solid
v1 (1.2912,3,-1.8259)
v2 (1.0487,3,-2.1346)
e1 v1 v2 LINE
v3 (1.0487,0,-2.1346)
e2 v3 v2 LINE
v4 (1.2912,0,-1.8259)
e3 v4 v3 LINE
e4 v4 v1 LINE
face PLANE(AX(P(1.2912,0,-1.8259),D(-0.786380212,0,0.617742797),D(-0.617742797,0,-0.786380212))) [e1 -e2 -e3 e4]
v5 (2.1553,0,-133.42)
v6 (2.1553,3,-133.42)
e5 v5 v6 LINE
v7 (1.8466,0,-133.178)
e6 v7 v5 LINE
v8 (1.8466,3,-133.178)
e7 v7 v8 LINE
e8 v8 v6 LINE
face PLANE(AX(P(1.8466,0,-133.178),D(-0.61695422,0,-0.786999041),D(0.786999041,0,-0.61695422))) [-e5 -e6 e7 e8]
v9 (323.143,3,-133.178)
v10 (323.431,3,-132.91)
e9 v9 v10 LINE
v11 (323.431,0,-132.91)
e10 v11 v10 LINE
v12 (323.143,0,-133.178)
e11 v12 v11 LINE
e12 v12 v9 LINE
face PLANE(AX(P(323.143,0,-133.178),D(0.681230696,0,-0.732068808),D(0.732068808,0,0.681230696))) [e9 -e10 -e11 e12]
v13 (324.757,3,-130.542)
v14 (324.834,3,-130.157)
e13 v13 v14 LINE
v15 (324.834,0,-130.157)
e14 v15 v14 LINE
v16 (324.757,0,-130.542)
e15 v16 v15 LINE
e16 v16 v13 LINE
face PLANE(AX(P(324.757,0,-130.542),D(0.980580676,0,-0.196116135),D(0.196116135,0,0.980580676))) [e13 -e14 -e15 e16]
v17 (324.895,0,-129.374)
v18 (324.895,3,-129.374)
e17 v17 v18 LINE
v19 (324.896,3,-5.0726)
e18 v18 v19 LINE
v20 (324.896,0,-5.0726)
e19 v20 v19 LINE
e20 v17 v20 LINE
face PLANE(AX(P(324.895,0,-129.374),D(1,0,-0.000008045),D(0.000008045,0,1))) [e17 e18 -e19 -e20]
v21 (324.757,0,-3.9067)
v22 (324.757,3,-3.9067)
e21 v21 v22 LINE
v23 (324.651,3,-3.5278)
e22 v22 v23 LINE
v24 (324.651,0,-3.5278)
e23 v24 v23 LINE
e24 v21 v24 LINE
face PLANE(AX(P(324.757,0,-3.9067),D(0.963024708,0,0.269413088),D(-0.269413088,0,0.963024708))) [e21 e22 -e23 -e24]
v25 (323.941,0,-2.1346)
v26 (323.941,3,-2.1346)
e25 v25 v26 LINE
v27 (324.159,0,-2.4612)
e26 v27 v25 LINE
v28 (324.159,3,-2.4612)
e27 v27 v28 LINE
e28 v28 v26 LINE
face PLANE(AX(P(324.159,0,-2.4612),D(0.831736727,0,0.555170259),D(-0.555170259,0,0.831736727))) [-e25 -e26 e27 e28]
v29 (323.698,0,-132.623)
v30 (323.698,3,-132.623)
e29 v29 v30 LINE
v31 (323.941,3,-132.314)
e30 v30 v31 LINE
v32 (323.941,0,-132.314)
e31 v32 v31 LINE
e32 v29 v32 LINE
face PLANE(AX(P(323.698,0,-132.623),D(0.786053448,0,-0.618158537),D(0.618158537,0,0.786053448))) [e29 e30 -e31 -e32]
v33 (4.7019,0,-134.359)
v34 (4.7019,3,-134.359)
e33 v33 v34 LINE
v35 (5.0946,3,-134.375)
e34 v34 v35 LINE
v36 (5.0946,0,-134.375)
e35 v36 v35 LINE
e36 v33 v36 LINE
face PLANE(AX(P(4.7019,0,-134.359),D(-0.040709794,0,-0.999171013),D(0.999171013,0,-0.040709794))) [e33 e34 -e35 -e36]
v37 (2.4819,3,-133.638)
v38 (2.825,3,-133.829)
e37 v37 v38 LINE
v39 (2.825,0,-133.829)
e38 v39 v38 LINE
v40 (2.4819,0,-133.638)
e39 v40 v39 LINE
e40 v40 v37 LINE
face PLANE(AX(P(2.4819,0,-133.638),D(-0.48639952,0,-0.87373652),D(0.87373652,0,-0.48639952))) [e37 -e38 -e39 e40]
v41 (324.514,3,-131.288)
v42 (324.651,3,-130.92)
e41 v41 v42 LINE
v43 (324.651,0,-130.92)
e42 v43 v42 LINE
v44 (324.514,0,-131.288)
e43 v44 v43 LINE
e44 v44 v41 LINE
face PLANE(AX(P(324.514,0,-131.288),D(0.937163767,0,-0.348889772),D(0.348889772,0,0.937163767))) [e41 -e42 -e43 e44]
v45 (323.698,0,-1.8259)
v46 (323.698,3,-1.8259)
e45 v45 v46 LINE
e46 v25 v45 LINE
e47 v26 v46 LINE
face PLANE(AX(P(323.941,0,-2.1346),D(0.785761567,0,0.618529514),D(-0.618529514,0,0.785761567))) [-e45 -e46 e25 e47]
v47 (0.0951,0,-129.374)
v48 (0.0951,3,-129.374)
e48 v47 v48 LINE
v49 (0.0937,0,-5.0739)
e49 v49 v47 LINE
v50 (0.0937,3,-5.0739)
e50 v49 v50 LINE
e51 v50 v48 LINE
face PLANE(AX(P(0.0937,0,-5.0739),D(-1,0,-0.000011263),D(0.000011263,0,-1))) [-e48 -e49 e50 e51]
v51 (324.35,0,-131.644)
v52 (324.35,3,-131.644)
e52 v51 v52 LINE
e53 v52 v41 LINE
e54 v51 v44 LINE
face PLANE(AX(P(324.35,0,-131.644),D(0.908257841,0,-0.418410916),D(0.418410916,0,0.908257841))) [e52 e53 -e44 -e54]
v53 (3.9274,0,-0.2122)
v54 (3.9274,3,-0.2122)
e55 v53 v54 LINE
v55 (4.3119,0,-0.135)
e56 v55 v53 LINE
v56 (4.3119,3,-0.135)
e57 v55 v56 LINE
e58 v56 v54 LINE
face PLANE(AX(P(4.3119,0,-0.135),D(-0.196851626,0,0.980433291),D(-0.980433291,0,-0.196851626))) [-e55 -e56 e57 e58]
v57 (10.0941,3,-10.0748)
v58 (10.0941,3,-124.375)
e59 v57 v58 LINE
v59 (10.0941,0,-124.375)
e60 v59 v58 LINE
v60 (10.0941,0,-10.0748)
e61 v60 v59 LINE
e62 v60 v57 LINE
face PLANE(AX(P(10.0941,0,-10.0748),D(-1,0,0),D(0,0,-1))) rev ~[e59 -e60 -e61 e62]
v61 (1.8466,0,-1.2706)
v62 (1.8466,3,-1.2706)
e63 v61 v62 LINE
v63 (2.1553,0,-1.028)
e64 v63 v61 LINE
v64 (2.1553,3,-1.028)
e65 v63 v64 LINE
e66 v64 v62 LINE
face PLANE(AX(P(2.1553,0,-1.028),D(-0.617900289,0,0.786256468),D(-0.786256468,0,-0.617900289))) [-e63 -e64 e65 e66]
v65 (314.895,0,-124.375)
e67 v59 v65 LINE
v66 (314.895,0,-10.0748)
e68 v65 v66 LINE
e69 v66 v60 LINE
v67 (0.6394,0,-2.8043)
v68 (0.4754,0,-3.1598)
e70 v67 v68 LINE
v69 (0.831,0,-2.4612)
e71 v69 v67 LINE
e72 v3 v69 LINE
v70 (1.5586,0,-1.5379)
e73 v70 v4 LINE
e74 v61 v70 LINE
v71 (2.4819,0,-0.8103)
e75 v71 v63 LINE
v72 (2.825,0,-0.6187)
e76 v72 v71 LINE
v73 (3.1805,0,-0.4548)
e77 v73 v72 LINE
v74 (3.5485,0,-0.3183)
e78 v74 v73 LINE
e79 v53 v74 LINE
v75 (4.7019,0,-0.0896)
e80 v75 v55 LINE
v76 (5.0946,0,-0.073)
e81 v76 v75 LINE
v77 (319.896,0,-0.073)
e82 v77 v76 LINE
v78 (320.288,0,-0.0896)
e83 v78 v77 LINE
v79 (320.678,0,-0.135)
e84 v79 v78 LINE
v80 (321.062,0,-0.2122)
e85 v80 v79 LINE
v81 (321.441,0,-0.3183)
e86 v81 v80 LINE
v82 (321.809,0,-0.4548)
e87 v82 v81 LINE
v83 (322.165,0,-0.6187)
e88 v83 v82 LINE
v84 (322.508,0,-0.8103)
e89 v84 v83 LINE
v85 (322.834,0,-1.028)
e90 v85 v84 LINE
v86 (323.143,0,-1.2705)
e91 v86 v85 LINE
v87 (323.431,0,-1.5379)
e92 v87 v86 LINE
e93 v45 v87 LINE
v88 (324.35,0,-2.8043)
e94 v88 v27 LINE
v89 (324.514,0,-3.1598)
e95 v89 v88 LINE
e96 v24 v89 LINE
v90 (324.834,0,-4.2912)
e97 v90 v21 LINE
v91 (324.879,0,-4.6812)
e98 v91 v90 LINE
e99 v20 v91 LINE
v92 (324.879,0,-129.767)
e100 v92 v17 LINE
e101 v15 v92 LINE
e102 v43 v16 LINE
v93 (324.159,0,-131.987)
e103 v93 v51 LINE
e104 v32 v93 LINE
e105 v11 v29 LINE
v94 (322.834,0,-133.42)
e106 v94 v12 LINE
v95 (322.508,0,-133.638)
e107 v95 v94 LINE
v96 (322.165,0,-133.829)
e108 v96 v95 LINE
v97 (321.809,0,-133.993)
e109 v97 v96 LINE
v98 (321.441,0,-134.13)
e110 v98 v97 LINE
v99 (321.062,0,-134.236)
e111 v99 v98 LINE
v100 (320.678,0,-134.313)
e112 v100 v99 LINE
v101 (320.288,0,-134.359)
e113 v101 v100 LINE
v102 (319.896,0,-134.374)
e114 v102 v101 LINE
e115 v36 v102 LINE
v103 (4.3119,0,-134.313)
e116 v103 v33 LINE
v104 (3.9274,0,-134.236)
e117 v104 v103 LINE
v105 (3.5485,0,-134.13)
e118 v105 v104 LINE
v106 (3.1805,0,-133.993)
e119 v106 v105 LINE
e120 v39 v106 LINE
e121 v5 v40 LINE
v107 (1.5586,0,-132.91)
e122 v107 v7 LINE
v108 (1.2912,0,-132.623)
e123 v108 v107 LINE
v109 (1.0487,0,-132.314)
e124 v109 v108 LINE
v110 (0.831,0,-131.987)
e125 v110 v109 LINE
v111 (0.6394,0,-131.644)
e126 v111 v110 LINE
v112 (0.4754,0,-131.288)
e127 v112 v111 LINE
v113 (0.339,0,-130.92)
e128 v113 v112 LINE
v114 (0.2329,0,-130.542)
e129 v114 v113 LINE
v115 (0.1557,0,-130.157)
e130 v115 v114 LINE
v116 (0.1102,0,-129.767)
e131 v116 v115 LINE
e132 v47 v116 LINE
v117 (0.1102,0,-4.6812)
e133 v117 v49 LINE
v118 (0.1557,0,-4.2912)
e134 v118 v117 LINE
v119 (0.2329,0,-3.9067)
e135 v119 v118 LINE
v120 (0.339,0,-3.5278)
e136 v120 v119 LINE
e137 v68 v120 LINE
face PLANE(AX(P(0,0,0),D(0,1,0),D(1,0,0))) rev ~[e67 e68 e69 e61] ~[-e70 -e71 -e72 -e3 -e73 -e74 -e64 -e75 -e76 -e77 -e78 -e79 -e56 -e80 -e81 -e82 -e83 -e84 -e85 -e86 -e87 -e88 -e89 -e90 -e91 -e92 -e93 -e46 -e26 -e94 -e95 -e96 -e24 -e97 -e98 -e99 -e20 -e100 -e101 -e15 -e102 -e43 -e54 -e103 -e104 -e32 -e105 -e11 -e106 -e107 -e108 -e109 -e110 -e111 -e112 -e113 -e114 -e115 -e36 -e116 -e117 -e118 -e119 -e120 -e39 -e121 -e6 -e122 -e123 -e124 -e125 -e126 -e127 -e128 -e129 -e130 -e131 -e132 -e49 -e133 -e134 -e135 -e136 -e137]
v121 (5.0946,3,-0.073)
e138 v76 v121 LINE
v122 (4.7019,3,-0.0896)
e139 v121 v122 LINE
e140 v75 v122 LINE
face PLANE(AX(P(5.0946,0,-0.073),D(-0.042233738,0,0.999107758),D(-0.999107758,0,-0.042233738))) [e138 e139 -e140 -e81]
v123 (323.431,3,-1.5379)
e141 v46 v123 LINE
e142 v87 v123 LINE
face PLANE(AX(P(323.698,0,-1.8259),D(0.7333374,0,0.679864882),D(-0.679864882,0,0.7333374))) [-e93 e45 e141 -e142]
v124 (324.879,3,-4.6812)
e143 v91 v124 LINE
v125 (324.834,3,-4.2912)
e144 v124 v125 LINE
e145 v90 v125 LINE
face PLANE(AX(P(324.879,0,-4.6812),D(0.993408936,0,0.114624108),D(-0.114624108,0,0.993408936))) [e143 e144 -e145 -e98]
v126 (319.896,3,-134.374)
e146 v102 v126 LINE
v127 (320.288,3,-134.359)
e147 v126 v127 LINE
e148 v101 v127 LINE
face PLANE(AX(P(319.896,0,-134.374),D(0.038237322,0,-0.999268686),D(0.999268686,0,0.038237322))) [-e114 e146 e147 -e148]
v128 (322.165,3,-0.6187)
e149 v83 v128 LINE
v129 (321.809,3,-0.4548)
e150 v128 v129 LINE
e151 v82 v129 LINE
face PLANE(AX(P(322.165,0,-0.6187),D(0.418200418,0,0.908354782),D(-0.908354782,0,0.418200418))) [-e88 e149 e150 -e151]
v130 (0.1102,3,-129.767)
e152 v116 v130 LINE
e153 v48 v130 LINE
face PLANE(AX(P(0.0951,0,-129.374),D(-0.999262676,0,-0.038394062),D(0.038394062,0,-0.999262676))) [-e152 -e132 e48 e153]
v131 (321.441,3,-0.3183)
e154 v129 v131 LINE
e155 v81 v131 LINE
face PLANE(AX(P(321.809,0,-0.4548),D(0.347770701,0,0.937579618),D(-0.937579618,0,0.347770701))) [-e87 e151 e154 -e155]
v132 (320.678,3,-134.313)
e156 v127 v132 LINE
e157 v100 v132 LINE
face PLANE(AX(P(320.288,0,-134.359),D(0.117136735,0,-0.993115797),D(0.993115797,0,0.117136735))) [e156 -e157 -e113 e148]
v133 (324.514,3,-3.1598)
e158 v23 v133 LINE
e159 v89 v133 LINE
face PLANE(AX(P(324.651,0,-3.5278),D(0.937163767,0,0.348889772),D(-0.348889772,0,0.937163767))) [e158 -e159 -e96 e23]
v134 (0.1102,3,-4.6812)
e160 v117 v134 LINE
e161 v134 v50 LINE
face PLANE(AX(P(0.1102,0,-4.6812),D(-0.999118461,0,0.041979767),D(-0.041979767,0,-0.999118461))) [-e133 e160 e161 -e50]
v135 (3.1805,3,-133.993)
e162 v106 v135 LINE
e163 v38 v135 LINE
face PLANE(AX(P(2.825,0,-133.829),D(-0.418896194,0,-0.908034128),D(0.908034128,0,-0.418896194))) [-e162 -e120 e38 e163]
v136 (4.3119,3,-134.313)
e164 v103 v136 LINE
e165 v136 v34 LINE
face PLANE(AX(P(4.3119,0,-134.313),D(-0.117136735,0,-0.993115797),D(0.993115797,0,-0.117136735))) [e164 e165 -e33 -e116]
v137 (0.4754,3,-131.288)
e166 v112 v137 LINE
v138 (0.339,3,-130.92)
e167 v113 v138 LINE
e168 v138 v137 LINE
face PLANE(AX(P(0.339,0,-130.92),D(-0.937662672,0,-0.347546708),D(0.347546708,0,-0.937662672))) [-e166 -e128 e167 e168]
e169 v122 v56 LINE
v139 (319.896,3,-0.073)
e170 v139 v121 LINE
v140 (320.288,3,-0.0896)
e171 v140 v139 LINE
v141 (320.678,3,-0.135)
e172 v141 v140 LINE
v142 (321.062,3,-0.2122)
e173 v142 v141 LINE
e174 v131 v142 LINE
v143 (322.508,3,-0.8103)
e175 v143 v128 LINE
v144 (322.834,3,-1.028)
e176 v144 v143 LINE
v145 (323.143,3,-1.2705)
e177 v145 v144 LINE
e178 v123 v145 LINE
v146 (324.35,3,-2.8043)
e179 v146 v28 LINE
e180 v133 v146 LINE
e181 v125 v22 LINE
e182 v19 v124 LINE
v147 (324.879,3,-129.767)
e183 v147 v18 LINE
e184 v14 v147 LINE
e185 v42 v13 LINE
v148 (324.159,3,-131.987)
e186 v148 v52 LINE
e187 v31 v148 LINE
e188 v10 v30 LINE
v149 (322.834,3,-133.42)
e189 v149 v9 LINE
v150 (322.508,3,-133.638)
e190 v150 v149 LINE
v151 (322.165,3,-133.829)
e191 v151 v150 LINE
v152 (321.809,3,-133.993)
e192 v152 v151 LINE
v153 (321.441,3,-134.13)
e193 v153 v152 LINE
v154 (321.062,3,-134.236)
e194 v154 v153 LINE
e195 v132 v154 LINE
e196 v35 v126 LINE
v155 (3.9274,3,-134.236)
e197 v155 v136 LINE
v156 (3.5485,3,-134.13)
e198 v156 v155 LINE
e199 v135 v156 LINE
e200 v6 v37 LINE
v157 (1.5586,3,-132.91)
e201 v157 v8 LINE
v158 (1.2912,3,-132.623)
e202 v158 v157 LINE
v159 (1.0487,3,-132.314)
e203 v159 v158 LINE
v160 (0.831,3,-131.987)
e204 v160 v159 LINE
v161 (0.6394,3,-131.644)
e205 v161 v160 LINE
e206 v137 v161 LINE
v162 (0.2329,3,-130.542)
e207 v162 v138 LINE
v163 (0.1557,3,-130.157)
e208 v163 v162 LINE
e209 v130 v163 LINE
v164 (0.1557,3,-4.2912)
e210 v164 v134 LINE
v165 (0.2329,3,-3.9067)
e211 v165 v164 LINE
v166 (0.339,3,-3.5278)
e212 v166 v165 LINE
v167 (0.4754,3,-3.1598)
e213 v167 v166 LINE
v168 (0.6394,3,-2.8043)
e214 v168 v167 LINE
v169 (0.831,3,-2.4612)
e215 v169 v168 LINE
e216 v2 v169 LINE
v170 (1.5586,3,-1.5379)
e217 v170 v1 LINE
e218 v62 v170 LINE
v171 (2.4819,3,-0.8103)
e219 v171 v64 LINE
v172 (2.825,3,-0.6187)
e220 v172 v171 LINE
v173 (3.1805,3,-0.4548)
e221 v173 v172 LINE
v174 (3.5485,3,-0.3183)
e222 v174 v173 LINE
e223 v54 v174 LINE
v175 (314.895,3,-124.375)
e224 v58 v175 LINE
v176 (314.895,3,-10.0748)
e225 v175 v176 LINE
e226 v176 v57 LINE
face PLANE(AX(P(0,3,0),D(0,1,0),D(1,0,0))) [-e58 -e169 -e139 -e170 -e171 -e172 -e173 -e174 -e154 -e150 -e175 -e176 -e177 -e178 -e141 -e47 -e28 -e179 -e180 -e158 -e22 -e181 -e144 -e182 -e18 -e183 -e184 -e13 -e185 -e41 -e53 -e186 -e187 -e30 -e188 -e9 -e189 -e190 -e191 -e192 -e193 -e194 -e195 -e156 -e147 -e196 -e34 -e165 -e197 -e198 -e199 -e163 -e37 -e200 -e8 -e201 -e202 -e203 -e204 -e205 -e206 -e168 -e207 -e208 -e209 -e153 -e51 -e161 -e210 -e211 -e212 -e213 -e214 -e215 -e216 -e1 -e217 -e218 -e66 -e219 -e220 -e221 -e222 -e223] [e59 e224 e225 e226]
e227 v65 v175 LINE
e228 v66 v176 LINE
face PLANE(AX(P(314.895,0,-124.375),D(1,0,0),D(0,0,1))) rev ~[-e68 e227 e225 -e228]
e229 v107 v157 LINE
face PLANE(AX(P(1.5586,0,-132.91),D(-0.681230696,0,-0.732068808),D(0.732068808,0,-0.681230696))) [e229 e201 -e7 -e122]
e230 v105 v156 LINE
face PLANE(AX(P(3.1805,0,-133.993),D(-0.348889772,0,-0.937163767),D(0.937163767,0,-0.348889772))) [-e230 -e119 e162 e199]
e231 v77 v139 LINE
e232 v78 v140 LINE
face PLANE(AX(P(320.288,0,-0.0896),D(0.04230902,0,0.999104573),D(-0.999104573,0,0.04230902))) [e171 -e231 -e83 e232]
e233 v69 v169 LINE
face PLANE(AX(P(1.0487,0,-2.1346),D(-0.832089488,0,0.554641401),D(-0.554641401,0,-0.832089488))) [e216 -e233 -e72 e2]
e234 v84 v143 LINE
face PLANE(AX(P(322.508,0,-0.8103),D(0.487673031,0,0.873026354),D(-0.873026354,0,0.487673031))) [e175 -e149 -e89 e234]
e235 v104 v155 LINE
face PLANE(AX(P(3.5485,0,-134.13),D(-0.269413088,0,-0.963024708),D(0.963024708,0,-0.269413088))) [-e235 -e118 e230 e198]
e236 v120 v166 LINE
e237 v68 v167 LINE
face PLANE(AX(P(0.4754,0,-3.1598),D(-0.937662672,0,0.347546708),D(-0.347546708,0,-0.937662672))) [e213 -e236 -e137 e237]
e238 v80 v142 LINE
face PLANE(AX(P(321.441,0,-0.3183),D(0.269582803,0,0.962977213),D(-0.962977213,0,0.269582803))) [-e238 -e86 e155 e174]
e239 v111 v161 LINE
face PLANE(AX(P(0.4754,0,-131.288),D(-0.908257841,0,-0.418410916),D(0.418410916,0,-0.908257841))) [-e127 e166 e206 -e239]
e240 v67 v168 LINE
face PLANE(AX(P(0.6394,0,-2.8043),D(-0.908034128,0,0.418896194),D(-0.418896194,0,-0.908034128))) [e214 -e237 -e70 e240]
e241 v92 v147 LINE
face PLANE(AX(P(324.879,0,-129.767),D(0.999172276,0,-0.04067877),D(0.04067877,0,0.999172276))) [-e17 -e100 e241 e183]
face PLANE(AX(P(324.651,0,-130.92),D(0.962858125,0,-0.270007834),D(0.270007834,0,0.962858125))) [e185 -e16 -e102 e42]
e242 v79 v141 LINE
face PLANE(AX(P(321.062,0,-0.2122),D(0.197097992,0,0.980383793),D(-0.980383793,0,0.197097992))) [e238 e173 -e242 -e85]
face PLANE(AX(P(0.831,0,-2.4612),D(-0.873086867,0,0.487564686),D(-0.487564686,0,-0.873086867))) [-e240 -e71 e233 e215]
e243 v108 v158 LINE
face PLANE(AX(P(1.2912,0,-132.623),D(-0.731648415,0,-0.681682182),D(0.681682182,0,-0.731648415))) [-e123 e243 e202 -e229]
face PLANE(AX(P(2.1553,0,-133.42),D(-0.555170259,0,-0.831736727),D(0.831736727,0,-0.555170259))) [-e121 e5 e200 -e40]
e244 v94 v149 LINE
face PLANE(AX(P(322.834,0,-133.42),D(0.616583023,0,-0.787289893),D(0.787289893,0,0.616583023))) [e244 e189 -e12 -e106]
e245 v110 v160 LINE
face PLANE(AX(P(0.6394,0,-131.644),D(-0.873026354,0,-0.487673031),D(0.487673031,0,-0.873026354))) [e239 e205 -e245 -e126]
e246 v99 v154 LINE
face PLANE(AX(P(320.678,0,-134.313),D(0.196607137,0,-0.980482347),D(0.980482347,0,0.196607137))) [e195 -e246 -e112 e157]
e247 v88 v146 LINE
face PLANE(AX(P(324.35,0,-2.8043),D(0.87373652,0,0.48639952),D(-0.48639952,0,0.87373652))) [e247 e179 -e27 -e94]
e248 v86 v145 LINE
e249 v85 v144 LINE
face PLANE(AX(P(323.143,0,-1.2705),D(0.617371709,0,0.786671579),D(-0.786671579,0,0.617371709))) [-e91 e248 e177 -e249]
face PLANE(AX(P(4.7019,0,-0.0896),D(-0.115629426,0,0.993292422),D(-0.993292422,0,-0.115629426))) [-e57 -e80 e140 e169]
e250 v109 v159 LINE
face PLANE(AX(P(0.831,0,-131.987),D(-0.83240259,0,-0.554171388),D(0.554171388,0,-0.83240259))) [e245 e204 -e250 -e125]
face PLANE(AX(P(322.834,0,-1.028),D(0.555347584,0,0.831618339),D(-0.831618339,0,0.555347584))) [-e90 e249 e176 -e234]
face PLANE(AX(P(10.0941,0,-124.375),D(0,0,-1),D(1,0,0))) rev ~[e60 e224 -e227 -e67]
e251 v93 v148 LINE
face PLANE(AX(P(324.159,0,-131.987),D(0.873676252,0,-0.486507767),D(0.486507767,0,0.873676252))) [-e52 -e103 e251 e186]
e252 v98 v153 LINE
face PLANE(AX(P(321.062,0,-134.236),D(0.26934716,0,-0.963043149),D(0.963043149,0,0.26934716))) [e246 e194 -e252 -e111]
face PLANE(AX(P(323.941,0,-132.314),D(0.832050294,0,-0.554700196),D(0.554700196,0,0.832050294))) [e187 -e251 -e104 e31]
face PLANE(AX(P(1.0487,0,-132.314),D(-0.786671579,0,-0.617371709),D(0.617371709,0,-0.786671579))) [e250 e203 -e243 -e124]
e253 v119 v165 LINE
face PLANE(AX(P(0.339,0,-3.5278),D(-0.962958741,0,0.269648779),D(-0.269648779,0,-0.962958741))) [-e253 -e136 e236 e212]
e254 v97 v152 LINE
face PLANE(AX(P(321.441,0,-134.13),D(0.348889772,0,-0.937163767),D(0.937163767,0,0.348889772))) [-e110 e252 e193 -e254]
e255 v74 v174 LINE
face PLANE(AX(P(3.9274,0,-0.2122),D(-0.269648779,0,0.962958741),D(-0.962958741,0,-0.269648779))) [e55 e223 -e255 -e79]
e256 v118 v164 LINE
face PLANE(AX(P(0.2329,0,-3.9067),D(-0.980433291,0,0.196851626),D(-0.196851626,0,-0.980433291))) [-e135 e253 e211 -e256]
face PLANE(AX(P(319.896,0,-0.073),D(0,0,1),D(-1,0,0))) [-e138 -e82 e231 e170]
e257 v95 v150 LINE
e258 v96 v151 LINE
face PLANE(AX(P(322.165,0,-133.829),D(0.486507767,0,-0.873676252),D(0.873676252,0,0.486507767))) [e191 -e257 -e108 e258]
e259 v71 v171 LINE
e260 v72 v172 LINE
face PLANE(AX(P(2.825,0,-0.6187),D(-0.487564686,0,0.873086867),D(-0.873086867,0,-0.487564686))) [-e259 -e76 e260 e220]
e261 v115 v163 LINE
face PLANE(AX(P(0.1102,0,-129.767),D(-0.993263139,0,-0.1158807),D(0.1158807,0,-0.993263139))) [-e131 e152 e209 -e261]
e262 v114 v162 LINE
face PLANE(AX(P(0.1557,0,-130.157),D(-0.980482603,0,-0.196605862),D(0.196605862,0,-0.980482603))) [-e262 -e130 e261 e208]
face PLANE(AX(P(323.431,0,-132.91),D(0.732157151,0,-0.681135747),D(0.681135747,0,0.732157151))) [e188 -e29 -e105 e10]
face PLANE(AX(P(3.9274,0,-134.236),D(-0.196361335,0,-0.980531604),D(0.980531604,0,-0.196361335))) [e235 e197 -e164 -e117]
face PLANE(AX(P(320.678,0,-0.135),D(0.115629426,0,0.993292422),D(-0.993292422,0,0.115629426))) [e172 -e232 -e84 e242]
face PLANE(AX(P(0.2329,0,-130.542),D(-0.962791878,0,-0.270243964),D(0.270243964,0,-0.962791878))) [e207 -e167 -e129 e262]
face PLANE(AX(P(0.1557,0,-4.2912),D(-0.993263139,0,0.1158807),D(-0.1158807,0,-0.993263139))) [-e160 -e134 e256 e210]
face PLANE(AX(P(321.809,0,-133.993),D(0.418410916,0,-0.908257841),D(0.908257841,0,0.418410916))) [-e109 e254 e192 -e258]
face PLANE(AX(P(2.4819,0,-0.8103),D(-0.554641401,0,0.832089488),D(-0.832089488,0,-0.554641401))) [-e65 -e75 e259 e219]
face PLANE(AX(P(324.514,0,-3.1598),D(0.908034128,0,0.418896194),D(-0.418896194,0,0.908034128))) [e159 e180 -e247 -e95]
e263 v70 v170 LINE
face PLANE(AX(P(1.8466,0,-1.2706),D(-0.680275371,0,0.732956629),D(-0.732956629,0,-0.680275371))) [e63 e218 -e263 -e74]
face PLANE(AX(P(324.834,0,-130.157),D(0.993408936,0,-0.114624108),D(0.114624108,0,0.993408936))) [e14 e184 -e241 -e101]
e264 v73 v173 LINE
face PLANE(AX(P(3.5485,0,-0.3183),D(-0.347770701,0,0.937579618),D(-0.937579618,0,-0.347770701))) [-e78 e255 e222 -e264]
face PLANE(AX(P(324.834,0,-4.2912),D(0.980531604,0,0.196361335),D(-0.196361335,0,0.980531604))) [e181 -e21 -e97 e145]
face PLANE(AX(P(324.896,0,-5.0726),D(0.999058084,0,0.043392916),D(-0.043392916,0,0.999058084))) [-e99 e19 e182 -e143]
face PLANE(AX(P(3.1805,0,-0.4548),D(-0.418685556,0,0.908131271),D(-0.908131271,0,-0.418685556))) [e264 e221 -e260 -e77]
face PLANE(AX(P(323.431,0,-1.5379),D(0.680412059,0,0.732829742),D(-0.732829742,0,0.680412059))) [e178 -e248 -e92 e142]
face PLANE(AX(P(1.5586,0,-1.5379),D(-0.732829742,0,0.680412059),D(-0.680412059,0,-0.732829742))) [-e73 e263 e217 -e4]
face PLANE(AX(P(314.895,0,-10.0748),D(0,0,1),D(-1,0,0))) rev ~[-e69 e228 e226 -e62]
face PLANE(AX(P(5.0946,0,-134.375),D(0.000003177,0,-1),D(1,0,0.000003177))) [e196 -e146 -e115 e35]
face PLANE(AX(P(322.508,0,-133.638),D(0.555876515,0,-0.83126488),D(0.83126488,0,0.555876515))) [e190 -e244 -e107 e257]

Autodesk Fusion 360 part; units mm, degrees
sketch "Sketch1" plane through (0, 0, 0) normal (0, 1, 0) x (1, 0, 0)
  line L0 (0.6394, 2.8043) -> (0.4754, 3.1598)
  line L1 (322.165, 133.829) -> (322.508, 133.638)
  line L2 (0.4754, 3.1598) -> (0.339, 3.5278)
  line L3 (324.895, 129.374) -> (324.896, 5.0726)
  line L4 (0.2329, 3.9067) -> (0.1557, 4.2912)
  line L5 (0.339, 3.5278) -> (0.2329, 3.9067)
  line L6 (0.831, 2.4612) -> (0.6394, 2.8043)
  line L7 (0.1557, 4.2912) -> (0.1102, 4.6812)
  line L8 (321.809, 0.4548) -> (321.441, 0.3183)
  line L9 (320.678, 0.135) -> (320.288, 0.0896)
  line L10 (1.2912, 1.8259) -> (1.0487, 2.1346)
  line L11 (324.879, 129.767) -> (324.895, 129.374)
  line L12 (324.514, 131.288) -> (324.651, 130.92)
  line L13 (323.698, 132.623) -> (323.941, 132.314)
  line L14 (324.159, 2.4612) -> (323.941, 2.1346)
  line L15 (324.651, 3.5278) -> (324.514, 3.1598)
  line L16 (323.431, 1.5379) -> (323.143, 1.2705)
  line L17 (324.35, 2.8043) -> (324.159, 2.4612)
  line L18 (324.757, 130.542) -> (324.834, 130.157)
  line L19 (324.834, 4.2912) -> (324.757, 3.9067)
  line L20 (322.508, 0.8103) -> (322.165, 0.6187)
  line L21 (324.757, 3.9067) -> (324.651, 3.5278)
  line L22 (323.698, 1.8259) -> (323.431, 1.5379)
  line L23 (322.834, 1.028) -> (322.508, 0.8103)
  line L24 (322.508, 133.638) -> (322.834, 133.42)
  line L25 (320.288, 0.0896) -> (319.896, 0.073)
  line L26 (322.834, 133.42) -> (323.143, 133.178)
  line L27 (321.062, 134.236) -> (321.441, 134.13)
  line L28 (323.143, 133.178) -> (323.431, 132.91)
  line L29 (324.651, 130.92) -> (324.757, 130.542)
  line L30 (3.9274, 0.2122) -> (3.5485, 0.3183)
  line L31 (324.35, 131.644) -> (324.514, 131.288)
  line L32 (320.288, 134.359) -> (320.678, 134.313)
  line L33 (320.678, 134.313) -> (321.062, 134.236)
  line L34 (321.441, 134.13) -> (321.809, 133.993)
  line L35 (323.941, 132.314) -> (324.159, 131.987)
  line L36 (321.062, 0.2122) -> (320.678, 0.135)
  line L37 (323.143, 1.2706) -> (322.834, 1.028)
  line L38 (321.441, 0.3183) -> (321.062, 0.2122)
  line L39 (319.896, 0.073) -> (5.0946, 0.073)
  line L40 (324.514, 3.1598) -> (324.35, 2.8043)
  line L41 (324.896, 5.0726) -> (324.879, 4.6812)
  line L42 (324.834, 130.157) -> (324.879, 129.767)
  line L43 (5.0946, 0.073) -> (4.7019, 0.0896)
  line L44 (324.879, 4.6812) -> (324.834, 4.2912)
  line L45 (321.809, 133.993) -> (322.165, 133.829)
  line L46 (3.1805, 0.4548) -> (2.825, 0.6187)
  line L47 (319.896, 134.374) -> (320.288, 134.359)
  line L48 (4.3119, 0.135) -> (3.9274, 0.2122)
  line L49 (2.1553, 1.028) -> (1.8466, 1.2706)
  line L50 (2.825, 0.6187) -> (2.4819, 0.8103)
  line L51 (2.4819, 0.8103) -> (2.1553, 1.028)
  line L52 (324.159, 131.987) -> (324.35, 131.644)
  line L53 (322.165, 0.6187) -> (321.809, 0.4548)
  line L54 (4.7019, 0.0896) -> (4.3119, 0.135)
  line L55 (3.5485, 0.3183) -> (3.1805, 0.4548)
  line L56 (323.941, 2.1346) -> (323.698, 1.8259)
  line L57 (323.431, 132.91) -> (323.698, 132.623)
  line L58 (3.1805, 133.993) -> (3.5485, 134.13)
  line L59 (1.8466, 133.178) -> (2.1553, 133.42)
  line L60 (4.3119, 134.313) -> (4.7019, 134.359)
  line L61 (4.7019, 134.359) -> (5.0946, 134.375)
  line L62 (5.0946, 134.375) -> (319.896, 134.374)
  line L63 (3.5485, 134.13) -> (3.9274, 134.236)
  line L64 (1.5586, 1.5379) -> (1.2912, 1.8259)
  line L65 (0.6394, 131.644) -> (0.831, 131.987)
  line L66 (0.4754, 131.288) -> (0.6394, 131.644)
  line L67 (0.1102, 129.767) -> (0.1557, 130.157)
  line L68 (2.1553, 133.42) -> (2.4819, 133.638)
  line L69 (1.8466, 1.2706) -> (1.5586, 1.5379)
  line L70 (0.1102, 4.6812) -> (0.0937, 5.0739)
  line L71 (314.895, 124.375) -> (314.895, 10.0748)
  line L72 (10.0941, 124.375) -> (314.895, 124.375)
  line L73 (3.9274, 134.236) -> (4.3119, 134.313)
  line L74 (0.831, 131.987) -> (1.0487, 132.314)
  line L75 (1.0487, 132.314) -> (1.2912, 132.623)
  line L76 (314.895, 10.0748) -> (10.0941, 10.0748)
  line L77 (0.2329, 130.542) -> (0.339, 130.92)
  line L78 (0.339, 130.92) -> (0.4754, 131.288)
  line L79 (0.0937, 5.0739) -> (0.0951, 129.374)
  line L80 (1.2912, 132.623) -> (1.5586, 132.91)
  line L81 (0.1557, 130.157) -> (0.2329, 130.542)
  line L82 (2.825, 133.829) -> (3.1805, 133.993)
  line L83 (0.0951, 129.374) -> (0.1102, 129.767)
  line L84 (10.0941, 10.0748) -> (10.0941, 124.375)
  line L85 (1.5586, 132.91) -> (1.8466, 133.178)
  line L86 (2.4819, 133.638) -> (2.825, 133.829)
  line L87 (1.0487, 2.1346) -> (0.831, 2.4612)
extrude "Extrude1" add sketch "Sketch1" along normal blind 3
